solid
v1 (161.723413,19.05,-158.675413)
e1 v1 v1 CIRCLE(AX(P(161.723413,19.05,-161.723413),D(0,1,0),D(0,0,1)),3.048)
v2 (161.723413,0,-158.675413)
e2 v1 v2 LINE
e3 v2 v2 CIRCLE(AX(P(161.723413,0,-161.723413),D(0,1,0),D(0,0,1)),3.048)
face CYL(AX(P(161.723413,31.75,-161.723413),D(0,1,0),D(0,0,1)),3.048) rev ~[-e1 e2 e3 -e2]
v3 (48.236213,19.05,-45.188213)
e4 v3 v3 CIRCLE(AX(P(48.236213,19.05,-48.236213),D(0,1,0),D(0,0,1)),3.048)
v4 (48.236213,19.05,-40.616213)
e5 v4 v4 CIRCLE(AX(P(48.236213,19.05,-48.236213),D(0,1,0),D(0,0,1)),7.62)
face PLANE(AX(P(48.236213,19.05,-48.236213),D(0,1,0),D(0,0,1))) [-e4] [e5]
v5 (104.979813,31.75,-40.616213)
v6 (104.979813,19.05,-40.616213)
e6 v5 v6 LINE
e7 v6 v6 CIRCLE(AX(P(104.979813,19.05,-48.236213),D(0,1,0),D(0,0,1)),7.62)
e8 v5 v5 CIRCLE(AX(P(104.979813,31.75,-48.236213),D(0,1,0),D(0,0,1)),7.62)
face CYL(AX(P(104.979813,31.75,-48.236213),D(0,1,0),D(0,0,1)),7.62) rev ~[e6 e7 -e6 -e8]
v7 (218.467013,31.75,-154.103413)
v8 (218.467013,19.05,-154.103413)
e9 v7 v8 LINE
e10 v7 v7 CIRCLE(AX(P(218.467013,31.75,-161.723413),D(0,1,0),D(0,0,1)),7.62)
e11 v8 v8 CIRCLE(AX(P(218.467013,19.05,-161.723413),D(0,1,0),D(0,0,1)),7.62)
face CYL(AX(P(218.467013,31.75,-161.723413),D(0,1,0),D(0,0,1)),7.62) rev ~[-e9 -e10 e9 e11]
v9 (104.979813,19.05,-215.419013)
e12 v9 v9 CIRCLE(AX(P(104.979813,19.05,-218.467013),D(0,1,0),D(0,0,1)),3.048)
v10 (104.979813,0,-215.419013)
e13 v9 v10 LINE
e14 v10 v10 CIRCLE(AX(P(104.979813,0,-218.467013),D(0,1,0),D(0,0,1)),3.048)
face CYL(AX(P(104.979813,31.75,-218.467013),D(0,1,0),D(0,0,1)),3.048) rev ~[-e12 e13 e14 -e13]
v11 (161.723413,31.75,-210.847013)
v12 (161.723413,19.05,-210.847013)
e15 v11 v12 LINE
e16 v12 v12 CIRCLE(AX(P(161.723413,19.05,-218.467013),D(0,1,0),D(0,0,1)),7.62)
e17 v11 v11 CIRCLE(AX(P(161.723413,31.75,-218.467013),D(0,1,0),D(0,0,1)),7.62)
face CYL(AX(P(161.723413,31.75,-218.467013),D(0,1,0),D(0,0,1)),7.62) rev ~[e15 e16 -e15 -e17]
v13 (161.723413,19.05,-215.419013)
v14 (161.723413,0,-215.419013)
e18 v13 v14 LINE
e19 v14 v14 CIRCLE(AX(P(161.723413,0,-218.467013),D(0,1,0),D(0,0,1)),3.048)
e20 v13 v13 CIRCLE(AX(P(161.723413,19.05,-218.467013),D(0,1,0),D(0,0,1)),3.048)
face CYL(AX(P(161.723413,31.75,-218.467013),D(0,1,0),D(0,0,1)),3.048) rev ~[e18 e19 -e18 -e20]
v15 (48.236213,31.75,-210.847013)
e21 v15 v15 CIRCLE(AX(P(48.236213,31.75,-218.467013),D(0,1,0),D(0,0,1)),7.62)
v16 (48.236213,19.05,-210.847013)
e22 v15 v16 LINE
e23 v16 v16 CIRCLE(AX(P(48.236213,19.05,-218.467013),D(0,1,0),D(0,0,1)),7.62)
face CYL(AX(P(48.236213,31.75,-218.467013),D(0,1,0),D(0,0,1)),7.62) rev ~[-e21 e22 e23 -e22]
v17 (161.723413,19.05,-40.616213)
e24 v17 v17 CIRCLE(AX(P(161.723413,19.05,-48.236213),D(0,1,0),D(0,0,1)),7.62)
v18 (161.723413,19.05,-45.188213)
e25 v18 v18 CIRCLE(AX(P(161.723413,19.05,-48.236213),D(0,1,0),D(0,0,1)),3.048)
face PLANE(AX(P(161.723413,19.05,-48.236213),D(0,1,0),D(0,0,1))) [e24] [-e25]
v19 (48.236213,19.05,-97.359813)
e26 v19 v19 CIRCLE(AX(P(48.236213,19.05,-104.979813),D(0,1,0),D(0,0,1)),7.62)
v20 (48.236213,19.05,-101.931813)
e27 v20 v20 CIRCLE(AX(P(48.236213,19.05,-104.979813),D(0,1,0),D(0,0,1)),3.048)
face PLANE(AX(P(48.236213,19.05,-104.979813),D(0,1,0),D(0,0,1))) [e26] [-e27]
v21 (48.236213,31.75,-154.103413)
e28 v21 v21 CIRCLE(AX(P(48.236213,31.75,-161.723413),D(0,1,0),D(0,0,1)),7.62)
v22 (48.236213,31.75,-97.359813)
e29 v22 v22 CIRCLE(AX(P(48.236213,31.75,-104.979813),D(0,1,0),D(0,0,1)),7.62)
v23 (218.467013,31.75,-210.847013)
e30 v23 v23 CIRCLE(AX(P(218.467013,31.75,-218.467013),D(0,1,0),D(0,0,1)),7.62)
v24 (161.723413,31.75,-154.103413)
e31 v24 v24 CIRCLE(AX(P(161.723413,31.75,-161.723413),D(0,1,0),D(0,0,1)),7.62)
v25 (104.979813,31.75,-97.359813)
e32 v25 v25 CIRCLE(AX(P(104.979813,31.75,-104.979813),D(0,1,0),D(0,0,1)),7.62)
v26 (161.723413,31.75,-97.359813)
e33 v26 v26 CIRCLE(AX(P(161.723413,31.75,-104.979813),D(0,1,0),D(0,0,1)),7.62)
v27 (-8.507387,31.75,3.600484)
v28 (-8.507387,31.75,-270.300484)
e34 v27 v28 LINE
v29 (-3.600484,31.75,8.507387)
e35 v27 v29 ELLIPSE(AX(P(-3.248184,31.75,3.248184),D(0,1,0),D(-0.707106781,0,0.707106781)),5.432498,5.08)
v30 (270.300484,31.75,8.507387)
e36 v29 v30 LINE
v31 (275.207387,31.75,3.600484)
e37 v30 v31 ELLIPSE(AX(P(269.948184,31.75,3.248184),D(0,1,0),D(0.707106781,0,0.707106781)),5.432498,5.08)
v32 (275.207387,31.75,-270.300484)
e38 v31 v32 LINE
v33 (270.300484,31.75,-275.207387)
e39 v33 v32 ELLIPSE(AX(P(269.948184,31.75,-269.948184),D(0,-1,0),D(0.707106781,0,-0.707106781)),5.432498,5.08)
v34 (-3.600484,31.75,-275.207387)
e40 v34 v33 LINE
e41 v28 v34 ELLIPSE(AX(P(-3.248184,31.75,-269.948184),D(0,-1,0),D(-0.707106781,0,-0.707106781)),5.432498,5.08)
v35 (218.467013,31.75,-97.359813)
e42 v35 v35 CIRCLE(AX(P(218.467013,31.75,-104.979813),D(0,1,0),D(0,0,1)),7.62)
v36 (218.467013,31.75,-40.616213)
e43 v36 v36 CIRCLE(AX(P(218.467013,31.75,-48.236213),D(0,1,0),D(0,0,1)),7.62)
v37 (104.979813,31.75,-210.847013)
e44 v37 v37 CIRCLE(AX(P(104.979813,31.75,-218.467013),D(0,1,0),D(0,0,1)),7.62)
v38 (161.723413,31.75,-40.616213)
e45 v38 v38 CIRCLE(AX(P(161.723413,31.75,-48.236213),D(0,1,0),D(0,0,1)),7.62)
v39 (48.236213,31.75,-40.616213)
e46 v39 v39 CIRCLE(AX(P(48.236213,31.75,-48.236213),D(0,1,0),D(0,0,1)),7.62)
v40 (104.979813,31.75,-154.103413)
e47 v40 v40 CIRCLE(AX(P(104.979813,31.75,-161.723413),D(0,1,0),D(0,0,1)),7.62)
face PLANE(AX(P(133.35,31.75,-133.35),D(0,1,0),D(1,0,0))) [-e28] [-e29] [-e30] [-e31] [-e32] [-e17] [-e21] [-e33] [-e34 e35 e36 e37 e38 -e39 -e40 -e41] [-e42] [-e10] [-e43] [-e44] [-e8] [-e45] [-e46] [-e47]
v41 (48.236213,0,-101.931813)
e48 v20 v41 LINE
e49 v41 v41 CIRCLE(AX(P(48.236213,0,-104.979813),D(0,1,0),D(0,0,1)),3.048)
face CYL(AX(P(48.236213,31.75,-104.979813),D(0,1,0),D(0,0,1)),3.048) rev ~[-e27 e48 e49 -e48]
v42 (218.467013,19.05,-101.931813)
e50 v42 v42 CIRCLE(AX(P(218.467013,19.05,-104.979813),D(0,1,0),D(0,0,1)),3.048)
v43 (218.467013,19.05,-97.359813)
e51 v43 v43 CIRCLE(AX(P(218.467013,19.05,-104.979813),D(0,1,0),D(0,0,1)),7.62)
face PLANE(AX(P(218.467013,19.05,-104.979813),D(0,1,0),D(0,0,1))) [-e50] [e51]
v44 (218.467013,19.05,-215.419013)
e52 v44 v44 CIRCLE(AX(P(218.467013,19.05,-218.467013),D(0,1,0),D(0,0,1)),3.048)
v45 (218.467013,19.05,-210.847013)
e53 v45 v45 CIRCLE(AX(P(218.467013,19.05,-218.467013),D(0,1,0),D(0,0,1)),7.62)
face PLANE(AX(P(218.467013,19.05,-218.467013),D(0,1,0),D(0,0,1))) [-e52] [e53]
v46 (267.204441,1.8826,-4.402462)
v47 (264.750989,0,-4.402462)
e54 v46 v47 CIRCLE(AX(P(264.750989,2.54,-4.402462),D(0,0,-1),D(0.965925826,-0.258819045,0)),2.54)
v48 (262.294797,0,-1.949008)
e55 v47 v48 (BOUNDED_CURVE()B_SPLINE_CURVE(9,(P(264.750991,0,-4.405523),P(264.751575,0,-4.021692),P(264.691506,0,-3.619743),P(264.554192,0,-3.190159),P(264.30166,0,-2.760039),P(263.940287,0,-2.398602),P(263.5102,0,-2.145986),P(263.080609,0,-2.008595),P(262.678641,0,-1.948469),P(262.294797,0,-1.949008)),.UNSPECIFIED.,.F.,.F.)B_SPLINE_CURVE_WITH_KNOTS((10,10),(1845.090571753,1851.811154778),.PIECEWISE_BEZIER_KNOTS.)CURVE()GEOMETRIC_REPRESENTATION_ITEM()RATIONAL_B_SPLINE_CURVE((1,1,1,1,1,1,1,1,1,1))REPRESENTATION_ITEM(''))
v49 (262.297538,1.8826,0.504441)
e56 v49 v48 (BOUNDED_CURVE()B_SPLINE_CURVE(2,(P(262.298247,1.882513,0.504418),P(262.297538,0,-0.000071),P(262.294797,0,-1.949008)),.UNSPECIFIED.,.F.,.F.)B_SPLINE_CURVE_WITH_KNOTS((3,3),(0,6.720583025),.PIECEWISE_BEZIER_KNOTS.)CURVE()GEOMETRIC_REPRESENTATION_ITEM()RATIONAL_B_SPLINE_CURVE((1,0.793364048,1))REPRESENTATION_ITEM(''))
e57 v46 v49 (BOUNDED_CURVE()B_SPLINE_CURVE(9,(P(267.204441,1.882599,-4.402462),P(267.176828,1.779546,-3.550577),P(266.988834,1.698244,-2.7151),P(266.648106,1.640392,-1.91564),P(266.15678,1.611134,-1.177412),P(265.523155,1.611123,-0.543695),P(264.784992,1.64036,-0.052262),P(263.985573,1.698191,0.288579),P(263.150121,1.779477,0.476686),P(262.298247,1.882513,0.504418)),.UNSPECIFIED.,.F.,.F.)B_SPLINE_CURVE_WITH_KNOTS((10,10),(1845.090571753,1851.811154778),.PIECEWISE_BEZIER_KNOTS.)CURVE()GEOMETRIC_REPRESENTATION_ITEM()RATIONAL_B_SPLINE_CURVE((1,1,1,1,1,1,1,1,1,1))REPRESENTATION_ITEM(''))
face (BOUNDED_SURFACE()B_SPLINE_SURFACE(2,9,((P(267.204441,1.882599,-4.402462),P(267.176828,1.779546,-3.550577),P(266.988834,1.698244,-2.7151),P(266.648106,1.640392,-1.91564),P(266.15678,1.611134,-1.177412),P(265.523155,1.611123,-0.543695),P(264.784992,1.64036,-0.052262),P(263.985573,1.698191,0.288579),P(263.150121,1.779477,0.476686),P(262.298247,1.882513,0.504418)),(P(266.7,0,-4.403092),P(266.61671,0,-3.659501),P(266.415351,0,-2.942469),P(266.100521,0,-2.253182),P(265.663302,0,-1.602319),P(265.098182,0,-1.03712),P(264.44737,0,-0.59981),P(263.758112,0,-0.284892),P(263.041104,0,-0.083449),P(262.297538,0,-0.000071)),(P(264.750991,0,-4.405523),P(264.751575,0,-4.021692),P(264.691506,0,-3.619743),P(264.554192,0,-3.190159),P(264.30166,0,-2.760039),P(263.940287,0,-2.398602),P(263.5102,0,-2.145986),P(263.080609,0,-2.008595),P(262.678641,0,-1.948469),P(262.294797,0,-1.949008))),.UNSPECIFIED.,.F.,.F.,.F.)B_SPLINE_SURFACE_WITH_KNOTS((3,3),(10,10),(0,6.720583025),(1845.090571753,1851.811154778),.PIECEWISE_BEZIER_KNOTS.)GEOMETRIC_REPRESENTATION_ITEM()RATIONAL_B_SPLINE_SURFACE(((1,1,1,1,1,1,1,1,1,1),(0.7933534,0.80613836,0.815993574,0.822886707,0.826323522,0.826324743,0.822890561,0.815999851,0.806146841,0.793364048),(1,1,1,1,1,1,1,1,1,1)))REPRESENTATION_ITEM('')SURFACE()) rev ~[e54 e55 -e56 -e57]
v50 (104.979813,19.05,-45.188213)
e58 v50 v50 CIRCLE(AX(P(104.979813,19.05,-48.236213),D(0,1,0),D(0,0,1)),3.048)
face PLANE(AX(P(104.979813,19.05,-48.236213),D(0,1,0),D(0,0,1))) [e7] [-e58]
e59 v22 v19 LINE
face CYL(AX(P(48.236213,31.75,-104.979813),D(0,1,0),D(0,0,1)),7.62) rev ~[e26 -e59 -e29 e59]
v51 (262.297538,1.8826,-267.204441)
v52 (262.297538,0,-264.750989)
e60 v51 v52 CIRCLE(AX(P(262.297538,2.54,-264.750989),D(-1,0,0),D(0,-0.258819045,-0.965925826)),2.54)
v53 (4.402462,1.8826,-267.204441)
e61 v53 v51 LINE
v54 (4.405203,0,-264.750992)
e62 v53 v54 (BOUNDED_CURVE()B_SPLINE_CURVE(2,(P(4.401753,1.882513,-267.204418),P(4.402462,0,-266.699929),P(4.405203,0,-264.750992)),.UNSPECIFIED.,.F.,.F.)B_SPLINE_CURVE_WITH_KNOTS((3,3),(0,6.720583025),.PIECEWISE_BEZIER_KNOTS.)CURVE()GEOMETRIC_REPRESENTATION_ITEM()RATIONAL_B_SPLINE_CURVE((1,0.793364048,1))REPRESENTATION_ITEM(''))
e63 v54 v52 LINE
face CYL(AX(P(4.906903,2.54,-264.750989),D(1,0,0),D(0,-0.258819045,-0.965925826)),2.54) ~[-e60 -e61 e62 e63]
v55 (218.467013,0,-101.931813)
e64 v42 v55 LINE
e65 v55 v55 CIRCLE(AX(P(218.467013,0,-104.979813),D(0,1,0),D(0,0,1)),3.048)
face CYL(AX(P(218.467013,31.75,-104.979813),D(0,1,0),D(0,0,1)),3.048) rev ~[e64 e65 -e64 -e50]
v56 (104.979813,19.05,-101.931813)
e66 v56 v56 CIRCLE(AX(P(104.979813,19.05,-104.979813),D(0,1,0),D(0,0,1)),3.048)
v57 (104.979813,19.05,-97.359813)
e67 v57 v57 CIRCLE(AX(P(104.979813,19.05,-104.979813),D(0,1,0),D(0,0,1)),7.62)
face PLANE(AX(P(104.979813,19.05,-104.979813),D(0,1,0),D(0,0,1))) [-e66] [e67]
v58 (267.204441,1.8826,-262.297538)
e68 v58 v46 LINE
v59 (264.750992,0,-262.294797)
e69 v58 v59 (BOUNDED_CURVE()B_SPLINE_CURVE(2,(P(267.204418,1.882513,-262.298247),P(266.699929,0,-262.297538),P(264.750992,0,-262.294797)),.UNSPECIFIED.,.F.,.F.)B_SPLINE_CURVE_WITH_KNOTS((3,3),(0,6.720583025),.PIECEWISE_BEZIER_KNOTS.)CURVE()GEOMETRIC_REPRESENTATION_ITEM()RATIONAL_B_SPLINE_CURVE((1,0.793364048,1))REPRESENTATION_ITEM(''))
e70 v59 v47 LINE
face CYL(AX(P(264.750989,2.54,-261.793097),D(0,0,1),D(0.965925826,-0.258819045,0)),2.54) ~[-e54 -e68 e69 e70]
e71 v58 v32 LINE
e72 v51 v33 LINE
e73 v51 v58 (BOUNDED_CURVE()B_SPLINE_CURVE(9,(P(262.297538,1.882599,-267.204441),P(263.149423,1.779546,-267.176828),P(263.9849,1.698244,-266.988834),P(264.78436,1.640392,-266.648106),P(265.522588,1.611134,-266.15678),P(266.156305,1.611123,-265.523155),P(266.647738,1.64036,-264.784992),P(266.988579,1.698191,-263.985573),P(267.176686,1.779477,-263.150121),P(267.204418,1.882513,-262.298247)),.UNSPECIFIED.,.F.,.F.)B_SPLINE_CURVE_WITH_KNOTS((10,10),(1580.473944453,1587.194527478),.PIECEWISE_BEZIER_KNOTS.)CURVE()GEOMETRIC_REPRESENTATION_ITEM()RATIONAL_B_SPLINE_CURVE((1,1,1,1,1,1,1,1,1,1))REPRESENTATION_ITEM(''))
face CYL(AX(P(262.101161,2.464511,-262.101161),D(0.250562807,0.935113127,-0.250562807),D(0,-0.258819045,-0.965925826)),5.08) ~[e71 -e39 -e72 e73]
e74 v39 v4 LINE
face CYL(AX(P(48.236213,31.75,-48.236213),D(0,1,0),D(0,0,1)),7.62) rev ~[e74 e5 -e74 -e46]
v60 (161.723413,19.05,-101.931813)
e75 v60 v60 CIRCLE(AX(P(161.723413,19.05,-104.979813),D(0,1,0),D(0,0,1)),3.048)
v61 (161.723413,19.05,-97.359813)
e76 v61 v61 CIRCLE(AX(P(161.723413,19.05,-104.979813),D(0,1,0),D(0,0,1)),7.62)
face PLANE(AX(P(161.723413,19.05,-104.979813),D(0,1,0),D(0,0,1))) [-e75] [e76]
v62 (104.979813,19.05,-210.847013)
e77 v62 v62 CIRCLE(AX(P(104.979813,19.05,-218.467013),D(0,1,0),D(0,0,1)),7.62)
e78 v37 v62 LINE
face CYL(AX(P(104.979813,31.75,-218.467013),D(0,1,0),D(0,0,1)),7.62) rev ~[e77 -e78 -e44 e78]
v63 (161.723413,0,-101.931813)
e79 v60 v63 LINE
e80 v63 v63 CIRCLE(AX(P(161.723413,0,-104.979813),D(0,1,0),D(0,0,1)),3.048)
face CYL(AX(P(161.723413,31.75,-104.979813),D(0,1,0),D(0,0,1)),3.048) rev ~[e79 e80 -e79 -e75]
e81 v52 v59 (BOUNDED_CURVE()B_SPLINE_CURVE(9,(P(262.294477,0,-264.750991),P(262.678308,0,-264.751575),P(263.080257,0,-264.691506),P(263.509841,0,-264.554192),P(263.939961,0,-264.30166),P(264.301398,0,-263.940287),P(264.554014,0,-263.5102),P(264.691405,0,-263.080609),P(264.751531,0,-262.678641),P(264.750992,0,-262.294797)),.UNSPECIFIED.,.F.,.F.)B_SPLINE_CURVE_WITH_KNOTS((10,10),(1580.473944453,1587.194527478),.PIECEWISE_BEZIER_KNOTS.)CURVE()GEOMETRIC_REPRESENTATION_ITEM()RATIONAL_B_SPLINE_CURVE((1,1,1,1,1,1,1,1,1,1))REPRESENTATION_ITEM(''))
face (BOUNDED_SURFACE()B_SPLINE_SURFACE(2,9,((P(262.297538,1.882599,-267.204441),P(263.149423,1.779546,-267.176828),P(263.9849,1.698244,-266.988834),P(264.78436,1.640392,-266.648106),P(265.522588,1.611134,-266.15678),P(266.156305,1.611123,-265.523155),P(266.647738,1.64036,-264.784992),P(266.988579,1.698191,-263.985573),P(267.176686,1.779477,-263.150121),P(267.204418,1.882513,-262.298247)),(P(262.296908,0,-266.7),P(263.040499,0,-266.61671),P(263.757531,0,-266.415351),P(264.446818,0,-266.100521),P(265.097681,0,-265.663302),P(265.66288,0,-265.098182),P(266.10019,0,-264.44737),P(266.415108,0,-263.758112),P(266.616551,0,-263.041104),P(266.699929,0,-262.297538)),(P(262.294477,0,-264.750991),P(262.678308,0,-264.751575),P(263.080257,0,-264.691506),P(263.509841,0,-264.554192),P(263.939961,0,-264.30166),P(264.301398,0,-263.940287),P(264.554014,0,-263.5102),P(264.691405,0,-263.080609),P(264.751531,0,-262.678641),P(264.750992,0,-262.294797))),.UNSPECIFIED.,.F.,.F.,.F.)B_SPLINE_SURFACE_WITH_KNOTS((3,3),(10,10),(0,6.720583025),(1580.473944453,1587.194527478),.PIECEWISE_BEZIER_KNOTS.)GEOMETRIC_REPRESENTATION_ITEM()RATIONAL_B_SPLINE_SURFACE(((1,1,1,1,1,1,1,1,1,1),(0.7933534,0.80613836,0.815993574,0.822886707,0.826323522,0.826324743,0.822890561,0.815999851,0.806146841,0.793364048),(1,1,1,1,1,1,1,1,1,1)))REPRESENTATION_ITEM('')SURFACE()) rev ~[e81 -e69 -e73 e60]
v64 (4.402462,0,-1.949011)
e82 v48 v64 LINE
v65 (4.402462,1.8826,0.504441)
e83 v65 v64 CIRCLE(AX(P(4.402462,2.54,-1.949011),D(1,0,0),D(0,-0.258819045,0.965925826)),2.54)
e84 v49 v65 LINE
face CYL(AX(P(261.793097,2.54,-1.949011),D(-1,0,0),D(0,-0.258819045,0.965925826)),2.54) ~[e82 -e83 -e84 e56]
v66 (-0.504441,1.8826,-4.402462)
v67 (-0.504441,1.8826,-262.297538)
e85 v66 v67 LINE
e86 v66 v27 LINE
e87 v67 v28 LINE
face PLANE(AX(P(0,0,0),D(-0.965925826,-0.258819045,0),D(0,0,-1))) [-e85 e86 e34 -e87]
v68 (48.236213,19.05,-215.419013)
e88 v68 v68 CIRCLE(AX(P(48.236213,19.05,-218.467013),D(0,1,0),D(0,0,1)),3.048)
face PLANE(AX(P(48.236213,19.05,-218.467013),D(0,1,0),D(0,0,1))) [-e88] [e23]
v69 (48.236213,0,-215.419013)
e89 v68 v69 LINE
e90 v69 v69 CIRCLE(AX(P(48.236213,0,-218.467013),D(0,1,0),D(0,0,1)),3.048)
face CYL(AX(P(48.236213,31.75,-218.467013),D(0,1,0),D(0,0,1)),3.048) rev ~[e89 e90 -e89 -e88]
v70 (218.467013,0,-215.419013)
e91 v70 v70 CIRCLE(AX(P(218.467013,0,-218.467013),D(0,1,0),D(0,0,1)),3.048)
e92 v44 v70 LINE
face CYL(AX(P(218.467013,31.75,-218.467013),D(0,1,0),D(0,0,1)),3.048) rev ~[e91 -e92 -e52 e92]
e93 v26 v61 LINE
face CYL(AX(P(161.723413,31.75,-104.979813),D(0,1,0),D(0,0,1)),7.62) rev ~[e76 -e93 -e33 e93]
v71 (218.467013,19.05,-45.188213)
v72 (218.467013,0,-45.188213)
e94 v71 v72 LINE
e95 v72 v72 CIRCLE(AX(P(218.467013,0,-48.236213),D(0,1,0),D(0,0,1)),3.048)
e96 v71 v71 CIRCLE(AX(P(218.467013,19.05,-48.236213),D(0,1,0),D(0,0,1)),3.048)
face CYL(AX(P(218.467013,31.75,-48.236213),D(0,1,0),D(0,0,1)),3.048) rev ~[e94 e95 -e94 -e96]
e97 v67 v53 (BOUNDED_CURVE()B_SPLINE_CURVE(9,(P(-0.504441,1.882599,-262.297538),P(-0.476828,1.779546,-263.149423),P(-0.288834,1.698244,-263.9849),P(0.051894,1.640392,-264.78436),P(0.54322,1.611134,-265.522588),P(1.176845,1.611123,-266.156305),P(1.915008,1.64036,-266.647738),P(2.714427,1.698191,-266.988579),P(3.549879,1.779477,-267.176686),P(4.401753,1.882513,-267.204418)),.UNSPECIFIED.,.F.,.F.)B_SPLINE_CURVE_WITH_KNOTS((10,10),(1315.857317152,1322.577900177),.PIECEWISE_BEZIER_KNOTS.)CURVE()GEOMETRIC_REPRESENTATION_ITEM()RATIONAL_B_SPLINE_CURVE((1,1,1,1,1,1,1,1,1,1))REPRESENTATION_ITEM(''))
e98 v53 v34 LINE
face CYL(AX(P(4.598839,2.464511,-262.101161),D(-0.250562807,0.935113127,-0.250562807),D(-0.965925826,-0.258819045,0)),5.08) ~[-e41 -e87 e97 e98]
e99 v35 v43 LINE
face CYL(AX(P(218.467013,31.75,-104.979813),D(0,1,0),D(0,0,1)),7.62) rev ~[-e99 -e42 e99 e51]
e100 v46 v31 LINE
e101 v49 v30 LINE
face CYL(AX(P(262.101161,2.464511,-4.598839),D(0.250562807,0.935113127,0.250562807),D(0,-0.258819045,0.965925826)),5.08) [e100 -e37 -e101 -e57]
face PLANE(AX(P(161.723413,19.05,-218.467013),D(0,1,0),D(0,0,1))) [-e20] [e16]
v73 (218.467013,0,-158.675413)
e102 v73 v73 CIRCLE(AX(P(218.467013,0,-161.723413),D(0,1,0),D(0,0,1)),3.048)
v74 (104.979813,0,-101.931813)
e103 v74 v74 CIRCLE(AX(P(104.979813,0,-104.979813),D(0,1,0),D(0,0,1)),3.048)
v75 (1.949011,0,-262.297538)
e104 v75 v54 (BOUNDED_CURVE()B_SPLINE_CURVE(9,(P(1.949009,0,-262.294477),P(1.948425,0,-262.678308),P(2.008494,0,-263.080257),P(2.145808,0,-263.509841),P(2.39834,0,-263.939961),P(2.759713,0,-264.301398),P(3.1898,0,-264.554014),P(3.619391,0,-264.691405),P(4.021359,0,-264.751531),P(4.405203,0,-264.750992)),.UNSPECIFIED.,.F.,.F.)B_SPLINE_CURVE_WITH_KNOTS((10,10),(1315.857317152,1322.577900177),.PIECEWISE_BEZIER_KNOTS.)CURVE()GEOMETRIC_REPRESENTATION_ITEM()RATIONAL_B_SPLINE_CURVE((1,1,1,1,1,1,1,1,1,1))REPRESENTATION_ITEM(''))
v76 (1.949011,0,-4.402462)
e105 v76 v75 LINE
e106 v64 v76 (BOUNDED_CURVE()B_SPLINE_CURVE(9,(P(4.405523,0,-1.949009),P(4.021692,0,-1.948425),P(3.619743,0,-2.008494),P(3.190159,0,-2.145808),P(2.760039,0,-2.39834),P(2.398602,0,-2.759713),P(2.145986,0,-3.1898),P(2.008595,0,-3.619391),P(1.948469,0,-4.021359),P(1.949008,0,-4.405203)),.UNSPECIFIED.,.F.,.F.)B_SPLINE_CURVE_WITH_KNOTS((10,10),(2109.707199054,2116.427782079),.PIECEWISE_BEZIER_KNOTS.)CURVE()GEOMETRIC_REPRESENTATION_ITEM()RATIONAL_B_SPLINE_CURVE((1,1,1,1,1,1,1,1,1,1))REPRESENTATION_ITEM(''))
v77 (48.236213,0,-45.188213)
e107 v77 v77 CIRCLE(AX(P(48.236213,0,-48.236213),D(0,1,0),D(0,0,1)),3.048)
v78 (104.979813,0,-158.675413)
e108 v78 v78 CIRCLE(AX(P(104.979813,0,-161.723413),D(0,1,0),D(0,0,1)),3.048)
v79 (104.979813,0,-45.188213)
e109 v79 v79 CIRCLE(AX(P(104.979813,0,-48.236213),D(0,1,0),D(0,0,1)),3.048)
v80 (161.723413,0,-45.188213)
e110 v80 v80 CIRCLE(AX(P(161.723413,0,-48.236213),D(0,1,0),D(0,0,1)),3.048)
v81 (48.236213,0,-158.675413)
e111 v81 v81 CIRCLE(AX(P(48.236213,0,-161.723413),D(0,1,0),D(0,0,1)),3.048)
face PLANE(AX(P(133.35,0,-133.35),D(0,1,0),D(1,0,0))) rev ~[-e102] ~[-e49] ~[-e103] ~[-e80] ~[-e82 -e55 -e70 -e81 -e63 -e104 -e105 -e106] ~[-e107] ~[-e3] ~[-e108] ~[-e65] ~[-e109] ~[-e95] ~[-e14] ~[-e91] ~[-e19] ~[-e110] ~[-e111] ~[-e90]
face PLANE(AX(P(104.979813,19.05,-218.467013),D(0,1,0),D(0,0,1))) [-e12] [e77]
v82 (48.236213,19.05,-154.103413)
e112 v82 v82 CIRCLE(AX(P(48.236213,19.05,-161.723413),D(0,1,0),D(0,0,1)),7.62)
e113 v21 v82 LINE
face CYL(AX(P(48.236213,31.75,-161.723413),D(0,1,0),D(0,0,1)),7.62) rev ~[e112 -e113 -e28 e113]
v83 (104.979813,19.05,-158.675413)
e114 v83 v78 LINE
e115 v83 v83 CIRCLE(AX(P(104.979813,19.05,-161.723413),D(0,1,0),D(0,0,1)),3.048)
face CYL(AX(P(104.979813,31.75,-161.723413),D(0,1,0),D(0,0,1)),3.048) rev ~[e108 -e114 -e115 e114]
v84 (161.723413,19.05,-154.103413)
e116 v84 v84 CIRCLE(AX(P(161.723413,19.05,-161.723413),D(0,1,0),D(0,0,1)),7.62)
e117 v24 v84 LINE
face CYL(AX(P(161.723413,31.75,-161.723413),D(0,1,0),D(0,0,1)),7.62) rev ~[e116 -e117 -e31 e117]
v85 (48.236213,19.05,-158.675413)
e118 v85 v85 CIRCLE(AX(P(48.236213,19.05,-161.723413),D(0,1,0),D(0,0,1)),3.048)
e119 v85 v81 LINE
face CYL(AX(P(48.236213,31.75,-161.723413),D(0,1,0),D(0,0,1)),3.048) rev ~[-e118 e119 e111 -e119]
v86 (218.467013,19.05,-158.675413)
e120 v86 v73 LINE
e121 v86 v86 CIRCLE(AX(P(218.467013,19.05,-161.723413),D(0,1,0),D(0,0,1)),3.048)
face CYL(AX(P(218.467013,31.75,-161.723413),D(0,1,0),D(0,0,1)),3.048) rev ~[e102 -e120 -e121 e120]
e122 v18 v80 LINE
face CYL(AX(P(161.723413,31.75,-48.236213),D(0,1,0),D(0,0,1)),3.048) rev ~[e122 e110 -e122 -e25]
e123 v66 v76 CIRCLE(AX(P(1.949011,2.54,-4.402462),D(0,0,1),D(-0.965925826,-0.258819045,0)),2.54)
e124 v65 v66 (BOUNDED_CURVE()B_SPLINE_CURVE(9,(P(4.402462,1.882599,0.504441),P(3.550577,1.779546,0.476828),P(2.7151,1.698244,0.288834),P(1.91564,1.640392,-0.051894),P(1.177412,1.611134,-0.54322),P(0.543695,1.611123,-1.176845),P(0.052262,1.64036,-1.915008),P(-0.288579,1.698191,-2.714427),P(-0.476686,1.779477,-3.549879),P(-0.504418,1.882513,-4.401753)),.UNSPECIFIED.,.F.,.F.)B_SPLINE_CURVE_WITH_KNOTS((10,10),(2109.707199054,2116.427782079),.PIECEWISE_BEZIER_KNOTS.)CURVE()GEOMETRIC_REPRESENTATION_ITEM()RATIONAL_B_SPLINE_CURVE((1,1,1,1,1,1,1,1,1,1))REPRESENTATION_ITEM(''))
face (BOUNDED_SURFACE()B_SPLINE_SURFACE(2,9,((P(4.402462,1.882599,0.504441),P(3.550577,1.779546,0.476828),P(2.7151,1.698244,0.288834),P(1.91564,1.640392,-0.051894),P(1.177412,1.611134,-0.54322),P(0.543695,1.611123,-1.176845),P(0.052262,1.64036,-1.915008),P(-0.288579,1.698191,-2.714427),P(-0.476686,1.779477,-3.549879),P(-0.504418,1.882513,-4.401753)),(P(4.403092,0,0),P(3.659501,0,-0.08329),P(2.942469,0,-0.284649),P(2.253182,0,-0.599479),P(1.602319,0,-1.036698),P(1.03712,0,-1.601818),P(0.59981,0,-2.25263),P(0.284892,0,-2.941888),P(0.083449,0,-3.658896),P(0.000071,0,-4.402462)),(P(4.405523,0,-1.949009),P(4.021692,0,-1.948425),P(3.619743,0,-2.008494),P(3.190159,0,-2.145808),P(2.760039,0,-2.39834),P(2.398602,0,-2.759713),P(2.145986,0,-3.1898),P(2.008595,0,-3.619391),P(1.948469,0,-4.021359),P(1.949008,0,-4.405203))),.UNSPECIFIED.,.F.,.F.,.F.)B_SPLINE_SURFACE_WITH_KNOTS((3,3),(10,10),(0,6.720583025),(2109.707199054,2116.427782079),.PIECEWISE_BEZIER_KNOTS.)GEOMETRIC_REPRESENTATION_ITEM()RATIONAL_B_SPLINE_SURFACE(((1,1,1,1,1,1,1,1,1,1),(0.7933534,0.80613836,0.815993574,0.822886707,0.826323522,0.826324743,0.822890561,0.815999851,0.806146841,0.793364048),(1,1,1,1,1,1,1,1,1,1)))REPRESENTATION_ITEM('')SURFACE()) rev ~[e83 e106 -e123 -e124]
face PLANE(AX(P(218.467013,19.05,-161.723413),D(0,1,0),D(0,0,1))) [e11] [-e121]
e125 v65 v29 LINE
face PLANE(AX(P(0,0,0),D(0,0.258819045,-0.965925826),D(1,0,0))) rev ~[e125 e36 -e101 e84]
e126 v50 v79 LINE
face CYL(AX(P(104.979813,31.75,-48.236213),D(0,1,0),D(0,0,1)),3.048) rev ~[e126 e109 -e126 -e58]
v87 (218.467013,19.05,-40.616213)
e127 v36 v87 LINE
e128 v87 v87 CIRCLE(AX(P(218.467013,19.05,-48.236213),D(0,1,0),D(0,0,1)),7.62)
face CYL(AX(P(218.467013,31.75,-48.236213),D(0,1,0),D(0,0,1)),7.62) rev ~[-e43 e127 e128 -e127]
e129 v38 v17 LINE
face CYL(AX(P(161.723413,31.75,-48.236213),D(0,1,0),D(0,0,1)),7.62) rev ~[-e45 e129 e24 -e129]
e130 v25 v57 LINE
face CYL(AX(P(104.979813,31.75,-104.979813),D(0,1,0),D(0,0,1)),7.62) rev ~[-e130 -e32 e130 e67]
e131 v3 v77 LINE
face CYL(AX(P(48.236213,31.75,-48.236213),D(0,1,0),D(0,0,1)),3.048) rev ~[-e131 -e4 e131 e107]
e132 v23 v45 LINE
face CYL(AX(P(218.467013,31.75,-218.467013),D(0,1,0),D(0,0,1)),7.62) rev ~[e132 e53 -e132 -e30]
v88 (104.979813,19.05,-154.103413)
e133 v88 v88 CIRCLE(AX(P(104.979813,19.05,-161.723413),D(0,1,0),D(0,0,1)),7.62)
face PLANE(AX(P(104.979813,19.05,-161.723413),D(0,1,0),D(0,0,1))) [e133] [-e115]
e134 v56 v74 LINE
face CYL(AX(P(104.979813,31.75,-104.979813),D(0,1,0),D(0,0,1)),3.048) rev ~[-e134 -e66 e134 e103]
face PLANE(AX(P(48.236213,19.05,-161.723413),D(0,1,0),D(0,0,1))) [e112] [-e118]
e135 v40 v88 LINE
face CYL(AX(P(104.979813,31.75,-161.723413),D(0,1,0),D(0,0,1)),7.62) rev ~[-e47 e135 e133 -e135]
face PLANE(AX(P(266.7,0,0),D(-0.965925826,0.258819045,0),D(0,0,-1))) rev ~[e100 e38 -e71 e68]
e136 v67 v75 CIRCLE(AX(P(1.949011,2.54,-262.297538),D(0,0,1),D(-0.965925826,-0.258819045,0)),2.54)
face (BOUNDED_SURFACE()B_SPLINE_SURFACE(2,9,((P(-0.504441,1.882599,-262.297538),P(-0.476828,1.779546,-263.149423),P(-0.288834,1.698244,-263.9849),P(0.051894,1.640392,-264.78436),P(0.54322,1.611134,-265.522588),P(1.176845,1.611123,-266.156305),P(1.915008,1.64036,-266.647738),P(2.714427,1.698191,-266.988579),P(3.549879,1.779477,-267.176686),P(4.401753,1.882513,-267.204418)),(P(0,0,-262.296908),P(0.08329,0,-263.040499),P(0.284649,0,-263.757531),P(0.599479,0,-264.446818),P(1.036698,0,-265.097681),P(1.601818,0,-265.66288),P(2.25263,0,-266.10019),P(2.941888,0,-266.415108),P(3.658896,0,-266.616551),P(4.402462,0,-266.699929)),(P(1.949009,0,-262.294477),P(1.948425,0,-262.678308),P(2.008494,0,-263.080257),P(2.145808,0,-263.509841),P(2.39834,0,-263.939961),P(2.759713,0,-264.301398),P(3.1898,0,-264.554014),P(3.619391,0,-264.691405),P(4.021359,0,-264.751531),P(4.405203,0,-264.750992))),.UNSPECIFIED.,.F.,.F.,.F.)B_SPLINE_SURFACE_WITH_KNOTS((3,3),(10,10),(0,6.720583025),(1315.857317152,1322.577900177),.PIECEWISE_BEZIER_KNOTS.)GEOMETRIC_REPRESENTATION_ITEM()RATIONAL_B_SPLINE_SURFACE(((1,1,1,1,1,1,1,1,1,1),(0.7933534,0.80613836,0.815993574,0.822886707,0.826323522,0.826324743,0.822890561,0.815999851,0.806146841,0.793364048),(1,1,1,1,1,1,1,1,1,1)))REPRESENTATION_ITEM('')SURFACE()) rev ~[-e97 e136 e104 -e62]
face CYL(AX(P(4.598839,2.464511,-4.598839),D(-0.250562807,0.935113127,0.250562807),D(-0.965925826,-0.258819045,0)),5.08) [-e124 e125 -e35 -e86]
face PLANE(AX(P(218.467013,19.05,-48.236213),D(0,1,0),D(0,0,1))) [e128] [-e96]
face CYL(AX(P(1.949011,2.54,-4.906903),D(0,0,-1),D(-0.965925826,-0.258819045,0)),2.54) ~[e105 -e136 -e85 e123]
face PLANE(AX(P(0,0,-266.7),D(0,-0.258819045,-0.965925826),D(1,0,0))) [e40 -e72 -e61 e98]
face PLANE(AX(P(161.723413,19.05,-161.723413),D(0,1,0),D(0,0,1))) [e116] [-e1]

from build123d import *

# Parameters (mm, degrees)
SKETCH1_W           = 266.7
SKETCH1_H           = 266.7
BOSS_EXTRUDE1_DEPTH = 31.75
BOSS_EXTRUDE1_DRAFT = -15
SKETCH3_R           = 3.048
CUT_EXTRUDE1_DEPTH  = 31.75
SKETCH4_R           = 7.62
CUT_EXTRUDE2_DEPTH  = 12.7
FILLET1_R           = 5.08
FILLET2_R           = 2.54


with BuildPart() as part:
    # Sketch1 → Boss-Extrude1 (with draft: the straight prism first)
    with BuildSketch(Plane(origin=(0, 0, 0), x_dir=(1, 0, 0), z_dir=(0, 1, 0))):
        with Locations((133.35, 133.35)):
            Rectangle(SKETCH1_W, SKETCH1_H)
    extrude(amount=BOSS_EXTRUDE1_DEPTH)
    # Boss-Extrude1: the draft: its side faces are tilted about the plane it starts from
    boss_extrude1_sides = [part.faces().sort_by_distance(p)[0] for p in [
        (133.35, 15.875, 0),
        (266.7, 15.875, -133.35),
        (133.35, 15.875, -266.7),
        (0, 15.875, -133.35),
    ]]
    draft(boss_extrude1_sides, Plane(origin=(0, 0, 0), x_dir=(1, 0, 0), z_dir=(0, 1, 0)), BOSS_EXTRUDE1_DRAFT)

    # Sketch3 → Cut-Extrude1 (cut)
    with BuildSketch(Plane(origin=(0, 31.75, 0), x_dir=(1, 0, 0), z_dir=(0, 1, 0))):
        with Locations(Location((48.23621314, 48.23621314, 0), (0, 0, 270))):
            Circle(SKETCH3_R)
        with Locations(Location((104.97981314, 48.23621314, 0), (0, 0, 270))):
            Circle(SKETCH3_R)
        with Locations(Location((161.72341314, 48.23621314, 0), (0, 0, 270))):
            Circle(SKETCH3_R)
        with Locations(Location((218.46701314, 48.23621314, 0), (0, 0, 270))):
            Circle(SKETCH3_R)
        with Locations(Location((104.97981314, 104.97981314, 0), (0, 0, 270))):
            Circle(SKETCH3_R)
        with Locations(Location((161.72341314, 104.97981314, 0), (0, 0, 270))):
            Circle(SKETCH3_R)
        with Locations(Location((218.46701314, 104.97981314, 0), (0, 0, 270))):
            Circle(SKETCH3_R)
        with Locations(Location((104.97981314, 161.72341314, 0), (0, 0, 270))):
            Circle(SKETCH3_R)
        with Locations(Location((161.72341314, 161.72341314, 0), (0, 0, 270))):
            Circle(SKETCH3_R)
        with Locations(Location((218.46701314, 161.72341314, 0), (0, 0, 270))):
            Circle(SKETCH3_R)
        with Locations(Location((104.97981314, 218.46701314, 0), (0, 0, 270))):
            Circle(SKETCH3_R)
        with Locations(Location((161.72341314, 218.46701314, 0), (0, 0, 270))):
            Circle(SKETCH3_R)
        with Locations(Location((218.46701314, 218.46701314, 0), (0, 0, 270))):
            Circle(SKETCH3_R)
        with Locations(Location((48.23621314, 104.97981314, 0), (0, 0, 270))):
            Circle(SKETCH3_R)
        with Locations(Location((48.23621314, 161.72341314, 0), (0, 0, 270))):
            Circle(SKETCH3_R)
        with Locations(Location((48.23621314, 218.46701314, 0), (0, 0, 270))):
            Circle(SKETCH3_R)
    extrude(amount=-CUT_EXTRUDE1_DEPTH, mode=Mode.SUBTRACT)

    # Sketch4 → Cut-Extrude2 (cut)
    with BuildSketch(Plane(origin=(0, 31.75, 0), x_dir=(1, 0, 0), z_dir=(0, 1, 0))):
        with Locations(Location((218.46701314, 48.23621314, 0), (0, 0, 270))):
            Circle(SKETCH4_R)
        with Locations(Location((161.72341314, 48.23621314, 0), (0, 0, 270))):
            Circle(SKETCH4_R)
        with Locations(Location((104.97981314, 48.23621314, 0), (0, 0, 270))):
            Circle(SKETCH4_R)
        with Locations(Location((48.23621314, 48.23621314, 0), (0, 0, 270))):
            Circle(SKETCH4_R)
        with Locations(Location((161.72341314, 104.97981314, 0), (0, 0, 270))):
            Circle(SKETCH4_R)
        with Locations(Location((104.97981314, 104.97981314, 0), (0, 0, 270))):
            Circle(SKETCH4_R)
        with Locations(Location((48.23621314, 104.97981314, 0), (0, 0, 270))):
            Circle(SKETCH4_R)
        with Locations(Location((161.72341314, 161.72341314, 0), (0, 0, 270))):
            Circle(SKETCH4_R)
        with Locations(Location((104.97981314, 161.72341314, 0), (0, 0, 270))):
            Circle(SKETCH4_R)
        with Locations(Location((48.23621314, 161.72341314, 0), (0, 0, 270))):
            Circle(SKETCH4_R)
        with Locations(Location((161.72341314, 218.46701314, 0), (0, 0, 270))):
            Circle(SKETCH4_R)
        with Locations(Location((104.97981314, 218.46701314, 0), (0, 0, 270))):
            Circle(SKETCH4_R)
        with Locations(Location((48.23621314, 218.46701314, 0), (0, 0, 270))):
            Circle(SKETCH4_R)
        with Locations(Location((218.46701314, 104.97981314, 0), (0, 0, 270))):
            Circle(SKETCH4_R)
        with Locations(Location((218.46701314, 161.72341314, 0), (0, 0, 270))):
            Circle(SKETCH4_R)
        with Locations(Location((218.46701314, 218.46701314, 0), (0, 0, 270))):
            Circle(SKETCH4_R)
    extrude(amount=-CUT_EXTRUDE2_DEPTH, mode=Mode.SUBTRACT)

    # Fillet1
    fillet1_edges = [part.edges().sort_by_distance(p)[0] for p in [
        (-4.25369343, 15.875, -270.95369343),
        (270.95369343, 15.875, -270.95369343),
        (270.95369343, 15.875, 4.25369343),
        (-4.25369343, 15.875, 4.25369343),
    ]]
    fillet(fillet1_edges, radius=FILLET1_R)

    # Fillet2
    fillet2_edges = [part.edges().sort_by_distance(p)[0] for p in [
        (0, 0, -133.35),
        (133.35, 0, -266.7),
        (266.7, 0, -133.35),
        (133.35, 0, 0),
        (1.417846965, 0, -1.417846965),
        (265.282153035, 0, -1.417846965),
        (265.282153035, 0, -265.282153035),
        (1.417846965, 0, -265.282153035),
    ]]
    fillet(fillet2_edges, radius=FILLET2_R)


solid = part.part
